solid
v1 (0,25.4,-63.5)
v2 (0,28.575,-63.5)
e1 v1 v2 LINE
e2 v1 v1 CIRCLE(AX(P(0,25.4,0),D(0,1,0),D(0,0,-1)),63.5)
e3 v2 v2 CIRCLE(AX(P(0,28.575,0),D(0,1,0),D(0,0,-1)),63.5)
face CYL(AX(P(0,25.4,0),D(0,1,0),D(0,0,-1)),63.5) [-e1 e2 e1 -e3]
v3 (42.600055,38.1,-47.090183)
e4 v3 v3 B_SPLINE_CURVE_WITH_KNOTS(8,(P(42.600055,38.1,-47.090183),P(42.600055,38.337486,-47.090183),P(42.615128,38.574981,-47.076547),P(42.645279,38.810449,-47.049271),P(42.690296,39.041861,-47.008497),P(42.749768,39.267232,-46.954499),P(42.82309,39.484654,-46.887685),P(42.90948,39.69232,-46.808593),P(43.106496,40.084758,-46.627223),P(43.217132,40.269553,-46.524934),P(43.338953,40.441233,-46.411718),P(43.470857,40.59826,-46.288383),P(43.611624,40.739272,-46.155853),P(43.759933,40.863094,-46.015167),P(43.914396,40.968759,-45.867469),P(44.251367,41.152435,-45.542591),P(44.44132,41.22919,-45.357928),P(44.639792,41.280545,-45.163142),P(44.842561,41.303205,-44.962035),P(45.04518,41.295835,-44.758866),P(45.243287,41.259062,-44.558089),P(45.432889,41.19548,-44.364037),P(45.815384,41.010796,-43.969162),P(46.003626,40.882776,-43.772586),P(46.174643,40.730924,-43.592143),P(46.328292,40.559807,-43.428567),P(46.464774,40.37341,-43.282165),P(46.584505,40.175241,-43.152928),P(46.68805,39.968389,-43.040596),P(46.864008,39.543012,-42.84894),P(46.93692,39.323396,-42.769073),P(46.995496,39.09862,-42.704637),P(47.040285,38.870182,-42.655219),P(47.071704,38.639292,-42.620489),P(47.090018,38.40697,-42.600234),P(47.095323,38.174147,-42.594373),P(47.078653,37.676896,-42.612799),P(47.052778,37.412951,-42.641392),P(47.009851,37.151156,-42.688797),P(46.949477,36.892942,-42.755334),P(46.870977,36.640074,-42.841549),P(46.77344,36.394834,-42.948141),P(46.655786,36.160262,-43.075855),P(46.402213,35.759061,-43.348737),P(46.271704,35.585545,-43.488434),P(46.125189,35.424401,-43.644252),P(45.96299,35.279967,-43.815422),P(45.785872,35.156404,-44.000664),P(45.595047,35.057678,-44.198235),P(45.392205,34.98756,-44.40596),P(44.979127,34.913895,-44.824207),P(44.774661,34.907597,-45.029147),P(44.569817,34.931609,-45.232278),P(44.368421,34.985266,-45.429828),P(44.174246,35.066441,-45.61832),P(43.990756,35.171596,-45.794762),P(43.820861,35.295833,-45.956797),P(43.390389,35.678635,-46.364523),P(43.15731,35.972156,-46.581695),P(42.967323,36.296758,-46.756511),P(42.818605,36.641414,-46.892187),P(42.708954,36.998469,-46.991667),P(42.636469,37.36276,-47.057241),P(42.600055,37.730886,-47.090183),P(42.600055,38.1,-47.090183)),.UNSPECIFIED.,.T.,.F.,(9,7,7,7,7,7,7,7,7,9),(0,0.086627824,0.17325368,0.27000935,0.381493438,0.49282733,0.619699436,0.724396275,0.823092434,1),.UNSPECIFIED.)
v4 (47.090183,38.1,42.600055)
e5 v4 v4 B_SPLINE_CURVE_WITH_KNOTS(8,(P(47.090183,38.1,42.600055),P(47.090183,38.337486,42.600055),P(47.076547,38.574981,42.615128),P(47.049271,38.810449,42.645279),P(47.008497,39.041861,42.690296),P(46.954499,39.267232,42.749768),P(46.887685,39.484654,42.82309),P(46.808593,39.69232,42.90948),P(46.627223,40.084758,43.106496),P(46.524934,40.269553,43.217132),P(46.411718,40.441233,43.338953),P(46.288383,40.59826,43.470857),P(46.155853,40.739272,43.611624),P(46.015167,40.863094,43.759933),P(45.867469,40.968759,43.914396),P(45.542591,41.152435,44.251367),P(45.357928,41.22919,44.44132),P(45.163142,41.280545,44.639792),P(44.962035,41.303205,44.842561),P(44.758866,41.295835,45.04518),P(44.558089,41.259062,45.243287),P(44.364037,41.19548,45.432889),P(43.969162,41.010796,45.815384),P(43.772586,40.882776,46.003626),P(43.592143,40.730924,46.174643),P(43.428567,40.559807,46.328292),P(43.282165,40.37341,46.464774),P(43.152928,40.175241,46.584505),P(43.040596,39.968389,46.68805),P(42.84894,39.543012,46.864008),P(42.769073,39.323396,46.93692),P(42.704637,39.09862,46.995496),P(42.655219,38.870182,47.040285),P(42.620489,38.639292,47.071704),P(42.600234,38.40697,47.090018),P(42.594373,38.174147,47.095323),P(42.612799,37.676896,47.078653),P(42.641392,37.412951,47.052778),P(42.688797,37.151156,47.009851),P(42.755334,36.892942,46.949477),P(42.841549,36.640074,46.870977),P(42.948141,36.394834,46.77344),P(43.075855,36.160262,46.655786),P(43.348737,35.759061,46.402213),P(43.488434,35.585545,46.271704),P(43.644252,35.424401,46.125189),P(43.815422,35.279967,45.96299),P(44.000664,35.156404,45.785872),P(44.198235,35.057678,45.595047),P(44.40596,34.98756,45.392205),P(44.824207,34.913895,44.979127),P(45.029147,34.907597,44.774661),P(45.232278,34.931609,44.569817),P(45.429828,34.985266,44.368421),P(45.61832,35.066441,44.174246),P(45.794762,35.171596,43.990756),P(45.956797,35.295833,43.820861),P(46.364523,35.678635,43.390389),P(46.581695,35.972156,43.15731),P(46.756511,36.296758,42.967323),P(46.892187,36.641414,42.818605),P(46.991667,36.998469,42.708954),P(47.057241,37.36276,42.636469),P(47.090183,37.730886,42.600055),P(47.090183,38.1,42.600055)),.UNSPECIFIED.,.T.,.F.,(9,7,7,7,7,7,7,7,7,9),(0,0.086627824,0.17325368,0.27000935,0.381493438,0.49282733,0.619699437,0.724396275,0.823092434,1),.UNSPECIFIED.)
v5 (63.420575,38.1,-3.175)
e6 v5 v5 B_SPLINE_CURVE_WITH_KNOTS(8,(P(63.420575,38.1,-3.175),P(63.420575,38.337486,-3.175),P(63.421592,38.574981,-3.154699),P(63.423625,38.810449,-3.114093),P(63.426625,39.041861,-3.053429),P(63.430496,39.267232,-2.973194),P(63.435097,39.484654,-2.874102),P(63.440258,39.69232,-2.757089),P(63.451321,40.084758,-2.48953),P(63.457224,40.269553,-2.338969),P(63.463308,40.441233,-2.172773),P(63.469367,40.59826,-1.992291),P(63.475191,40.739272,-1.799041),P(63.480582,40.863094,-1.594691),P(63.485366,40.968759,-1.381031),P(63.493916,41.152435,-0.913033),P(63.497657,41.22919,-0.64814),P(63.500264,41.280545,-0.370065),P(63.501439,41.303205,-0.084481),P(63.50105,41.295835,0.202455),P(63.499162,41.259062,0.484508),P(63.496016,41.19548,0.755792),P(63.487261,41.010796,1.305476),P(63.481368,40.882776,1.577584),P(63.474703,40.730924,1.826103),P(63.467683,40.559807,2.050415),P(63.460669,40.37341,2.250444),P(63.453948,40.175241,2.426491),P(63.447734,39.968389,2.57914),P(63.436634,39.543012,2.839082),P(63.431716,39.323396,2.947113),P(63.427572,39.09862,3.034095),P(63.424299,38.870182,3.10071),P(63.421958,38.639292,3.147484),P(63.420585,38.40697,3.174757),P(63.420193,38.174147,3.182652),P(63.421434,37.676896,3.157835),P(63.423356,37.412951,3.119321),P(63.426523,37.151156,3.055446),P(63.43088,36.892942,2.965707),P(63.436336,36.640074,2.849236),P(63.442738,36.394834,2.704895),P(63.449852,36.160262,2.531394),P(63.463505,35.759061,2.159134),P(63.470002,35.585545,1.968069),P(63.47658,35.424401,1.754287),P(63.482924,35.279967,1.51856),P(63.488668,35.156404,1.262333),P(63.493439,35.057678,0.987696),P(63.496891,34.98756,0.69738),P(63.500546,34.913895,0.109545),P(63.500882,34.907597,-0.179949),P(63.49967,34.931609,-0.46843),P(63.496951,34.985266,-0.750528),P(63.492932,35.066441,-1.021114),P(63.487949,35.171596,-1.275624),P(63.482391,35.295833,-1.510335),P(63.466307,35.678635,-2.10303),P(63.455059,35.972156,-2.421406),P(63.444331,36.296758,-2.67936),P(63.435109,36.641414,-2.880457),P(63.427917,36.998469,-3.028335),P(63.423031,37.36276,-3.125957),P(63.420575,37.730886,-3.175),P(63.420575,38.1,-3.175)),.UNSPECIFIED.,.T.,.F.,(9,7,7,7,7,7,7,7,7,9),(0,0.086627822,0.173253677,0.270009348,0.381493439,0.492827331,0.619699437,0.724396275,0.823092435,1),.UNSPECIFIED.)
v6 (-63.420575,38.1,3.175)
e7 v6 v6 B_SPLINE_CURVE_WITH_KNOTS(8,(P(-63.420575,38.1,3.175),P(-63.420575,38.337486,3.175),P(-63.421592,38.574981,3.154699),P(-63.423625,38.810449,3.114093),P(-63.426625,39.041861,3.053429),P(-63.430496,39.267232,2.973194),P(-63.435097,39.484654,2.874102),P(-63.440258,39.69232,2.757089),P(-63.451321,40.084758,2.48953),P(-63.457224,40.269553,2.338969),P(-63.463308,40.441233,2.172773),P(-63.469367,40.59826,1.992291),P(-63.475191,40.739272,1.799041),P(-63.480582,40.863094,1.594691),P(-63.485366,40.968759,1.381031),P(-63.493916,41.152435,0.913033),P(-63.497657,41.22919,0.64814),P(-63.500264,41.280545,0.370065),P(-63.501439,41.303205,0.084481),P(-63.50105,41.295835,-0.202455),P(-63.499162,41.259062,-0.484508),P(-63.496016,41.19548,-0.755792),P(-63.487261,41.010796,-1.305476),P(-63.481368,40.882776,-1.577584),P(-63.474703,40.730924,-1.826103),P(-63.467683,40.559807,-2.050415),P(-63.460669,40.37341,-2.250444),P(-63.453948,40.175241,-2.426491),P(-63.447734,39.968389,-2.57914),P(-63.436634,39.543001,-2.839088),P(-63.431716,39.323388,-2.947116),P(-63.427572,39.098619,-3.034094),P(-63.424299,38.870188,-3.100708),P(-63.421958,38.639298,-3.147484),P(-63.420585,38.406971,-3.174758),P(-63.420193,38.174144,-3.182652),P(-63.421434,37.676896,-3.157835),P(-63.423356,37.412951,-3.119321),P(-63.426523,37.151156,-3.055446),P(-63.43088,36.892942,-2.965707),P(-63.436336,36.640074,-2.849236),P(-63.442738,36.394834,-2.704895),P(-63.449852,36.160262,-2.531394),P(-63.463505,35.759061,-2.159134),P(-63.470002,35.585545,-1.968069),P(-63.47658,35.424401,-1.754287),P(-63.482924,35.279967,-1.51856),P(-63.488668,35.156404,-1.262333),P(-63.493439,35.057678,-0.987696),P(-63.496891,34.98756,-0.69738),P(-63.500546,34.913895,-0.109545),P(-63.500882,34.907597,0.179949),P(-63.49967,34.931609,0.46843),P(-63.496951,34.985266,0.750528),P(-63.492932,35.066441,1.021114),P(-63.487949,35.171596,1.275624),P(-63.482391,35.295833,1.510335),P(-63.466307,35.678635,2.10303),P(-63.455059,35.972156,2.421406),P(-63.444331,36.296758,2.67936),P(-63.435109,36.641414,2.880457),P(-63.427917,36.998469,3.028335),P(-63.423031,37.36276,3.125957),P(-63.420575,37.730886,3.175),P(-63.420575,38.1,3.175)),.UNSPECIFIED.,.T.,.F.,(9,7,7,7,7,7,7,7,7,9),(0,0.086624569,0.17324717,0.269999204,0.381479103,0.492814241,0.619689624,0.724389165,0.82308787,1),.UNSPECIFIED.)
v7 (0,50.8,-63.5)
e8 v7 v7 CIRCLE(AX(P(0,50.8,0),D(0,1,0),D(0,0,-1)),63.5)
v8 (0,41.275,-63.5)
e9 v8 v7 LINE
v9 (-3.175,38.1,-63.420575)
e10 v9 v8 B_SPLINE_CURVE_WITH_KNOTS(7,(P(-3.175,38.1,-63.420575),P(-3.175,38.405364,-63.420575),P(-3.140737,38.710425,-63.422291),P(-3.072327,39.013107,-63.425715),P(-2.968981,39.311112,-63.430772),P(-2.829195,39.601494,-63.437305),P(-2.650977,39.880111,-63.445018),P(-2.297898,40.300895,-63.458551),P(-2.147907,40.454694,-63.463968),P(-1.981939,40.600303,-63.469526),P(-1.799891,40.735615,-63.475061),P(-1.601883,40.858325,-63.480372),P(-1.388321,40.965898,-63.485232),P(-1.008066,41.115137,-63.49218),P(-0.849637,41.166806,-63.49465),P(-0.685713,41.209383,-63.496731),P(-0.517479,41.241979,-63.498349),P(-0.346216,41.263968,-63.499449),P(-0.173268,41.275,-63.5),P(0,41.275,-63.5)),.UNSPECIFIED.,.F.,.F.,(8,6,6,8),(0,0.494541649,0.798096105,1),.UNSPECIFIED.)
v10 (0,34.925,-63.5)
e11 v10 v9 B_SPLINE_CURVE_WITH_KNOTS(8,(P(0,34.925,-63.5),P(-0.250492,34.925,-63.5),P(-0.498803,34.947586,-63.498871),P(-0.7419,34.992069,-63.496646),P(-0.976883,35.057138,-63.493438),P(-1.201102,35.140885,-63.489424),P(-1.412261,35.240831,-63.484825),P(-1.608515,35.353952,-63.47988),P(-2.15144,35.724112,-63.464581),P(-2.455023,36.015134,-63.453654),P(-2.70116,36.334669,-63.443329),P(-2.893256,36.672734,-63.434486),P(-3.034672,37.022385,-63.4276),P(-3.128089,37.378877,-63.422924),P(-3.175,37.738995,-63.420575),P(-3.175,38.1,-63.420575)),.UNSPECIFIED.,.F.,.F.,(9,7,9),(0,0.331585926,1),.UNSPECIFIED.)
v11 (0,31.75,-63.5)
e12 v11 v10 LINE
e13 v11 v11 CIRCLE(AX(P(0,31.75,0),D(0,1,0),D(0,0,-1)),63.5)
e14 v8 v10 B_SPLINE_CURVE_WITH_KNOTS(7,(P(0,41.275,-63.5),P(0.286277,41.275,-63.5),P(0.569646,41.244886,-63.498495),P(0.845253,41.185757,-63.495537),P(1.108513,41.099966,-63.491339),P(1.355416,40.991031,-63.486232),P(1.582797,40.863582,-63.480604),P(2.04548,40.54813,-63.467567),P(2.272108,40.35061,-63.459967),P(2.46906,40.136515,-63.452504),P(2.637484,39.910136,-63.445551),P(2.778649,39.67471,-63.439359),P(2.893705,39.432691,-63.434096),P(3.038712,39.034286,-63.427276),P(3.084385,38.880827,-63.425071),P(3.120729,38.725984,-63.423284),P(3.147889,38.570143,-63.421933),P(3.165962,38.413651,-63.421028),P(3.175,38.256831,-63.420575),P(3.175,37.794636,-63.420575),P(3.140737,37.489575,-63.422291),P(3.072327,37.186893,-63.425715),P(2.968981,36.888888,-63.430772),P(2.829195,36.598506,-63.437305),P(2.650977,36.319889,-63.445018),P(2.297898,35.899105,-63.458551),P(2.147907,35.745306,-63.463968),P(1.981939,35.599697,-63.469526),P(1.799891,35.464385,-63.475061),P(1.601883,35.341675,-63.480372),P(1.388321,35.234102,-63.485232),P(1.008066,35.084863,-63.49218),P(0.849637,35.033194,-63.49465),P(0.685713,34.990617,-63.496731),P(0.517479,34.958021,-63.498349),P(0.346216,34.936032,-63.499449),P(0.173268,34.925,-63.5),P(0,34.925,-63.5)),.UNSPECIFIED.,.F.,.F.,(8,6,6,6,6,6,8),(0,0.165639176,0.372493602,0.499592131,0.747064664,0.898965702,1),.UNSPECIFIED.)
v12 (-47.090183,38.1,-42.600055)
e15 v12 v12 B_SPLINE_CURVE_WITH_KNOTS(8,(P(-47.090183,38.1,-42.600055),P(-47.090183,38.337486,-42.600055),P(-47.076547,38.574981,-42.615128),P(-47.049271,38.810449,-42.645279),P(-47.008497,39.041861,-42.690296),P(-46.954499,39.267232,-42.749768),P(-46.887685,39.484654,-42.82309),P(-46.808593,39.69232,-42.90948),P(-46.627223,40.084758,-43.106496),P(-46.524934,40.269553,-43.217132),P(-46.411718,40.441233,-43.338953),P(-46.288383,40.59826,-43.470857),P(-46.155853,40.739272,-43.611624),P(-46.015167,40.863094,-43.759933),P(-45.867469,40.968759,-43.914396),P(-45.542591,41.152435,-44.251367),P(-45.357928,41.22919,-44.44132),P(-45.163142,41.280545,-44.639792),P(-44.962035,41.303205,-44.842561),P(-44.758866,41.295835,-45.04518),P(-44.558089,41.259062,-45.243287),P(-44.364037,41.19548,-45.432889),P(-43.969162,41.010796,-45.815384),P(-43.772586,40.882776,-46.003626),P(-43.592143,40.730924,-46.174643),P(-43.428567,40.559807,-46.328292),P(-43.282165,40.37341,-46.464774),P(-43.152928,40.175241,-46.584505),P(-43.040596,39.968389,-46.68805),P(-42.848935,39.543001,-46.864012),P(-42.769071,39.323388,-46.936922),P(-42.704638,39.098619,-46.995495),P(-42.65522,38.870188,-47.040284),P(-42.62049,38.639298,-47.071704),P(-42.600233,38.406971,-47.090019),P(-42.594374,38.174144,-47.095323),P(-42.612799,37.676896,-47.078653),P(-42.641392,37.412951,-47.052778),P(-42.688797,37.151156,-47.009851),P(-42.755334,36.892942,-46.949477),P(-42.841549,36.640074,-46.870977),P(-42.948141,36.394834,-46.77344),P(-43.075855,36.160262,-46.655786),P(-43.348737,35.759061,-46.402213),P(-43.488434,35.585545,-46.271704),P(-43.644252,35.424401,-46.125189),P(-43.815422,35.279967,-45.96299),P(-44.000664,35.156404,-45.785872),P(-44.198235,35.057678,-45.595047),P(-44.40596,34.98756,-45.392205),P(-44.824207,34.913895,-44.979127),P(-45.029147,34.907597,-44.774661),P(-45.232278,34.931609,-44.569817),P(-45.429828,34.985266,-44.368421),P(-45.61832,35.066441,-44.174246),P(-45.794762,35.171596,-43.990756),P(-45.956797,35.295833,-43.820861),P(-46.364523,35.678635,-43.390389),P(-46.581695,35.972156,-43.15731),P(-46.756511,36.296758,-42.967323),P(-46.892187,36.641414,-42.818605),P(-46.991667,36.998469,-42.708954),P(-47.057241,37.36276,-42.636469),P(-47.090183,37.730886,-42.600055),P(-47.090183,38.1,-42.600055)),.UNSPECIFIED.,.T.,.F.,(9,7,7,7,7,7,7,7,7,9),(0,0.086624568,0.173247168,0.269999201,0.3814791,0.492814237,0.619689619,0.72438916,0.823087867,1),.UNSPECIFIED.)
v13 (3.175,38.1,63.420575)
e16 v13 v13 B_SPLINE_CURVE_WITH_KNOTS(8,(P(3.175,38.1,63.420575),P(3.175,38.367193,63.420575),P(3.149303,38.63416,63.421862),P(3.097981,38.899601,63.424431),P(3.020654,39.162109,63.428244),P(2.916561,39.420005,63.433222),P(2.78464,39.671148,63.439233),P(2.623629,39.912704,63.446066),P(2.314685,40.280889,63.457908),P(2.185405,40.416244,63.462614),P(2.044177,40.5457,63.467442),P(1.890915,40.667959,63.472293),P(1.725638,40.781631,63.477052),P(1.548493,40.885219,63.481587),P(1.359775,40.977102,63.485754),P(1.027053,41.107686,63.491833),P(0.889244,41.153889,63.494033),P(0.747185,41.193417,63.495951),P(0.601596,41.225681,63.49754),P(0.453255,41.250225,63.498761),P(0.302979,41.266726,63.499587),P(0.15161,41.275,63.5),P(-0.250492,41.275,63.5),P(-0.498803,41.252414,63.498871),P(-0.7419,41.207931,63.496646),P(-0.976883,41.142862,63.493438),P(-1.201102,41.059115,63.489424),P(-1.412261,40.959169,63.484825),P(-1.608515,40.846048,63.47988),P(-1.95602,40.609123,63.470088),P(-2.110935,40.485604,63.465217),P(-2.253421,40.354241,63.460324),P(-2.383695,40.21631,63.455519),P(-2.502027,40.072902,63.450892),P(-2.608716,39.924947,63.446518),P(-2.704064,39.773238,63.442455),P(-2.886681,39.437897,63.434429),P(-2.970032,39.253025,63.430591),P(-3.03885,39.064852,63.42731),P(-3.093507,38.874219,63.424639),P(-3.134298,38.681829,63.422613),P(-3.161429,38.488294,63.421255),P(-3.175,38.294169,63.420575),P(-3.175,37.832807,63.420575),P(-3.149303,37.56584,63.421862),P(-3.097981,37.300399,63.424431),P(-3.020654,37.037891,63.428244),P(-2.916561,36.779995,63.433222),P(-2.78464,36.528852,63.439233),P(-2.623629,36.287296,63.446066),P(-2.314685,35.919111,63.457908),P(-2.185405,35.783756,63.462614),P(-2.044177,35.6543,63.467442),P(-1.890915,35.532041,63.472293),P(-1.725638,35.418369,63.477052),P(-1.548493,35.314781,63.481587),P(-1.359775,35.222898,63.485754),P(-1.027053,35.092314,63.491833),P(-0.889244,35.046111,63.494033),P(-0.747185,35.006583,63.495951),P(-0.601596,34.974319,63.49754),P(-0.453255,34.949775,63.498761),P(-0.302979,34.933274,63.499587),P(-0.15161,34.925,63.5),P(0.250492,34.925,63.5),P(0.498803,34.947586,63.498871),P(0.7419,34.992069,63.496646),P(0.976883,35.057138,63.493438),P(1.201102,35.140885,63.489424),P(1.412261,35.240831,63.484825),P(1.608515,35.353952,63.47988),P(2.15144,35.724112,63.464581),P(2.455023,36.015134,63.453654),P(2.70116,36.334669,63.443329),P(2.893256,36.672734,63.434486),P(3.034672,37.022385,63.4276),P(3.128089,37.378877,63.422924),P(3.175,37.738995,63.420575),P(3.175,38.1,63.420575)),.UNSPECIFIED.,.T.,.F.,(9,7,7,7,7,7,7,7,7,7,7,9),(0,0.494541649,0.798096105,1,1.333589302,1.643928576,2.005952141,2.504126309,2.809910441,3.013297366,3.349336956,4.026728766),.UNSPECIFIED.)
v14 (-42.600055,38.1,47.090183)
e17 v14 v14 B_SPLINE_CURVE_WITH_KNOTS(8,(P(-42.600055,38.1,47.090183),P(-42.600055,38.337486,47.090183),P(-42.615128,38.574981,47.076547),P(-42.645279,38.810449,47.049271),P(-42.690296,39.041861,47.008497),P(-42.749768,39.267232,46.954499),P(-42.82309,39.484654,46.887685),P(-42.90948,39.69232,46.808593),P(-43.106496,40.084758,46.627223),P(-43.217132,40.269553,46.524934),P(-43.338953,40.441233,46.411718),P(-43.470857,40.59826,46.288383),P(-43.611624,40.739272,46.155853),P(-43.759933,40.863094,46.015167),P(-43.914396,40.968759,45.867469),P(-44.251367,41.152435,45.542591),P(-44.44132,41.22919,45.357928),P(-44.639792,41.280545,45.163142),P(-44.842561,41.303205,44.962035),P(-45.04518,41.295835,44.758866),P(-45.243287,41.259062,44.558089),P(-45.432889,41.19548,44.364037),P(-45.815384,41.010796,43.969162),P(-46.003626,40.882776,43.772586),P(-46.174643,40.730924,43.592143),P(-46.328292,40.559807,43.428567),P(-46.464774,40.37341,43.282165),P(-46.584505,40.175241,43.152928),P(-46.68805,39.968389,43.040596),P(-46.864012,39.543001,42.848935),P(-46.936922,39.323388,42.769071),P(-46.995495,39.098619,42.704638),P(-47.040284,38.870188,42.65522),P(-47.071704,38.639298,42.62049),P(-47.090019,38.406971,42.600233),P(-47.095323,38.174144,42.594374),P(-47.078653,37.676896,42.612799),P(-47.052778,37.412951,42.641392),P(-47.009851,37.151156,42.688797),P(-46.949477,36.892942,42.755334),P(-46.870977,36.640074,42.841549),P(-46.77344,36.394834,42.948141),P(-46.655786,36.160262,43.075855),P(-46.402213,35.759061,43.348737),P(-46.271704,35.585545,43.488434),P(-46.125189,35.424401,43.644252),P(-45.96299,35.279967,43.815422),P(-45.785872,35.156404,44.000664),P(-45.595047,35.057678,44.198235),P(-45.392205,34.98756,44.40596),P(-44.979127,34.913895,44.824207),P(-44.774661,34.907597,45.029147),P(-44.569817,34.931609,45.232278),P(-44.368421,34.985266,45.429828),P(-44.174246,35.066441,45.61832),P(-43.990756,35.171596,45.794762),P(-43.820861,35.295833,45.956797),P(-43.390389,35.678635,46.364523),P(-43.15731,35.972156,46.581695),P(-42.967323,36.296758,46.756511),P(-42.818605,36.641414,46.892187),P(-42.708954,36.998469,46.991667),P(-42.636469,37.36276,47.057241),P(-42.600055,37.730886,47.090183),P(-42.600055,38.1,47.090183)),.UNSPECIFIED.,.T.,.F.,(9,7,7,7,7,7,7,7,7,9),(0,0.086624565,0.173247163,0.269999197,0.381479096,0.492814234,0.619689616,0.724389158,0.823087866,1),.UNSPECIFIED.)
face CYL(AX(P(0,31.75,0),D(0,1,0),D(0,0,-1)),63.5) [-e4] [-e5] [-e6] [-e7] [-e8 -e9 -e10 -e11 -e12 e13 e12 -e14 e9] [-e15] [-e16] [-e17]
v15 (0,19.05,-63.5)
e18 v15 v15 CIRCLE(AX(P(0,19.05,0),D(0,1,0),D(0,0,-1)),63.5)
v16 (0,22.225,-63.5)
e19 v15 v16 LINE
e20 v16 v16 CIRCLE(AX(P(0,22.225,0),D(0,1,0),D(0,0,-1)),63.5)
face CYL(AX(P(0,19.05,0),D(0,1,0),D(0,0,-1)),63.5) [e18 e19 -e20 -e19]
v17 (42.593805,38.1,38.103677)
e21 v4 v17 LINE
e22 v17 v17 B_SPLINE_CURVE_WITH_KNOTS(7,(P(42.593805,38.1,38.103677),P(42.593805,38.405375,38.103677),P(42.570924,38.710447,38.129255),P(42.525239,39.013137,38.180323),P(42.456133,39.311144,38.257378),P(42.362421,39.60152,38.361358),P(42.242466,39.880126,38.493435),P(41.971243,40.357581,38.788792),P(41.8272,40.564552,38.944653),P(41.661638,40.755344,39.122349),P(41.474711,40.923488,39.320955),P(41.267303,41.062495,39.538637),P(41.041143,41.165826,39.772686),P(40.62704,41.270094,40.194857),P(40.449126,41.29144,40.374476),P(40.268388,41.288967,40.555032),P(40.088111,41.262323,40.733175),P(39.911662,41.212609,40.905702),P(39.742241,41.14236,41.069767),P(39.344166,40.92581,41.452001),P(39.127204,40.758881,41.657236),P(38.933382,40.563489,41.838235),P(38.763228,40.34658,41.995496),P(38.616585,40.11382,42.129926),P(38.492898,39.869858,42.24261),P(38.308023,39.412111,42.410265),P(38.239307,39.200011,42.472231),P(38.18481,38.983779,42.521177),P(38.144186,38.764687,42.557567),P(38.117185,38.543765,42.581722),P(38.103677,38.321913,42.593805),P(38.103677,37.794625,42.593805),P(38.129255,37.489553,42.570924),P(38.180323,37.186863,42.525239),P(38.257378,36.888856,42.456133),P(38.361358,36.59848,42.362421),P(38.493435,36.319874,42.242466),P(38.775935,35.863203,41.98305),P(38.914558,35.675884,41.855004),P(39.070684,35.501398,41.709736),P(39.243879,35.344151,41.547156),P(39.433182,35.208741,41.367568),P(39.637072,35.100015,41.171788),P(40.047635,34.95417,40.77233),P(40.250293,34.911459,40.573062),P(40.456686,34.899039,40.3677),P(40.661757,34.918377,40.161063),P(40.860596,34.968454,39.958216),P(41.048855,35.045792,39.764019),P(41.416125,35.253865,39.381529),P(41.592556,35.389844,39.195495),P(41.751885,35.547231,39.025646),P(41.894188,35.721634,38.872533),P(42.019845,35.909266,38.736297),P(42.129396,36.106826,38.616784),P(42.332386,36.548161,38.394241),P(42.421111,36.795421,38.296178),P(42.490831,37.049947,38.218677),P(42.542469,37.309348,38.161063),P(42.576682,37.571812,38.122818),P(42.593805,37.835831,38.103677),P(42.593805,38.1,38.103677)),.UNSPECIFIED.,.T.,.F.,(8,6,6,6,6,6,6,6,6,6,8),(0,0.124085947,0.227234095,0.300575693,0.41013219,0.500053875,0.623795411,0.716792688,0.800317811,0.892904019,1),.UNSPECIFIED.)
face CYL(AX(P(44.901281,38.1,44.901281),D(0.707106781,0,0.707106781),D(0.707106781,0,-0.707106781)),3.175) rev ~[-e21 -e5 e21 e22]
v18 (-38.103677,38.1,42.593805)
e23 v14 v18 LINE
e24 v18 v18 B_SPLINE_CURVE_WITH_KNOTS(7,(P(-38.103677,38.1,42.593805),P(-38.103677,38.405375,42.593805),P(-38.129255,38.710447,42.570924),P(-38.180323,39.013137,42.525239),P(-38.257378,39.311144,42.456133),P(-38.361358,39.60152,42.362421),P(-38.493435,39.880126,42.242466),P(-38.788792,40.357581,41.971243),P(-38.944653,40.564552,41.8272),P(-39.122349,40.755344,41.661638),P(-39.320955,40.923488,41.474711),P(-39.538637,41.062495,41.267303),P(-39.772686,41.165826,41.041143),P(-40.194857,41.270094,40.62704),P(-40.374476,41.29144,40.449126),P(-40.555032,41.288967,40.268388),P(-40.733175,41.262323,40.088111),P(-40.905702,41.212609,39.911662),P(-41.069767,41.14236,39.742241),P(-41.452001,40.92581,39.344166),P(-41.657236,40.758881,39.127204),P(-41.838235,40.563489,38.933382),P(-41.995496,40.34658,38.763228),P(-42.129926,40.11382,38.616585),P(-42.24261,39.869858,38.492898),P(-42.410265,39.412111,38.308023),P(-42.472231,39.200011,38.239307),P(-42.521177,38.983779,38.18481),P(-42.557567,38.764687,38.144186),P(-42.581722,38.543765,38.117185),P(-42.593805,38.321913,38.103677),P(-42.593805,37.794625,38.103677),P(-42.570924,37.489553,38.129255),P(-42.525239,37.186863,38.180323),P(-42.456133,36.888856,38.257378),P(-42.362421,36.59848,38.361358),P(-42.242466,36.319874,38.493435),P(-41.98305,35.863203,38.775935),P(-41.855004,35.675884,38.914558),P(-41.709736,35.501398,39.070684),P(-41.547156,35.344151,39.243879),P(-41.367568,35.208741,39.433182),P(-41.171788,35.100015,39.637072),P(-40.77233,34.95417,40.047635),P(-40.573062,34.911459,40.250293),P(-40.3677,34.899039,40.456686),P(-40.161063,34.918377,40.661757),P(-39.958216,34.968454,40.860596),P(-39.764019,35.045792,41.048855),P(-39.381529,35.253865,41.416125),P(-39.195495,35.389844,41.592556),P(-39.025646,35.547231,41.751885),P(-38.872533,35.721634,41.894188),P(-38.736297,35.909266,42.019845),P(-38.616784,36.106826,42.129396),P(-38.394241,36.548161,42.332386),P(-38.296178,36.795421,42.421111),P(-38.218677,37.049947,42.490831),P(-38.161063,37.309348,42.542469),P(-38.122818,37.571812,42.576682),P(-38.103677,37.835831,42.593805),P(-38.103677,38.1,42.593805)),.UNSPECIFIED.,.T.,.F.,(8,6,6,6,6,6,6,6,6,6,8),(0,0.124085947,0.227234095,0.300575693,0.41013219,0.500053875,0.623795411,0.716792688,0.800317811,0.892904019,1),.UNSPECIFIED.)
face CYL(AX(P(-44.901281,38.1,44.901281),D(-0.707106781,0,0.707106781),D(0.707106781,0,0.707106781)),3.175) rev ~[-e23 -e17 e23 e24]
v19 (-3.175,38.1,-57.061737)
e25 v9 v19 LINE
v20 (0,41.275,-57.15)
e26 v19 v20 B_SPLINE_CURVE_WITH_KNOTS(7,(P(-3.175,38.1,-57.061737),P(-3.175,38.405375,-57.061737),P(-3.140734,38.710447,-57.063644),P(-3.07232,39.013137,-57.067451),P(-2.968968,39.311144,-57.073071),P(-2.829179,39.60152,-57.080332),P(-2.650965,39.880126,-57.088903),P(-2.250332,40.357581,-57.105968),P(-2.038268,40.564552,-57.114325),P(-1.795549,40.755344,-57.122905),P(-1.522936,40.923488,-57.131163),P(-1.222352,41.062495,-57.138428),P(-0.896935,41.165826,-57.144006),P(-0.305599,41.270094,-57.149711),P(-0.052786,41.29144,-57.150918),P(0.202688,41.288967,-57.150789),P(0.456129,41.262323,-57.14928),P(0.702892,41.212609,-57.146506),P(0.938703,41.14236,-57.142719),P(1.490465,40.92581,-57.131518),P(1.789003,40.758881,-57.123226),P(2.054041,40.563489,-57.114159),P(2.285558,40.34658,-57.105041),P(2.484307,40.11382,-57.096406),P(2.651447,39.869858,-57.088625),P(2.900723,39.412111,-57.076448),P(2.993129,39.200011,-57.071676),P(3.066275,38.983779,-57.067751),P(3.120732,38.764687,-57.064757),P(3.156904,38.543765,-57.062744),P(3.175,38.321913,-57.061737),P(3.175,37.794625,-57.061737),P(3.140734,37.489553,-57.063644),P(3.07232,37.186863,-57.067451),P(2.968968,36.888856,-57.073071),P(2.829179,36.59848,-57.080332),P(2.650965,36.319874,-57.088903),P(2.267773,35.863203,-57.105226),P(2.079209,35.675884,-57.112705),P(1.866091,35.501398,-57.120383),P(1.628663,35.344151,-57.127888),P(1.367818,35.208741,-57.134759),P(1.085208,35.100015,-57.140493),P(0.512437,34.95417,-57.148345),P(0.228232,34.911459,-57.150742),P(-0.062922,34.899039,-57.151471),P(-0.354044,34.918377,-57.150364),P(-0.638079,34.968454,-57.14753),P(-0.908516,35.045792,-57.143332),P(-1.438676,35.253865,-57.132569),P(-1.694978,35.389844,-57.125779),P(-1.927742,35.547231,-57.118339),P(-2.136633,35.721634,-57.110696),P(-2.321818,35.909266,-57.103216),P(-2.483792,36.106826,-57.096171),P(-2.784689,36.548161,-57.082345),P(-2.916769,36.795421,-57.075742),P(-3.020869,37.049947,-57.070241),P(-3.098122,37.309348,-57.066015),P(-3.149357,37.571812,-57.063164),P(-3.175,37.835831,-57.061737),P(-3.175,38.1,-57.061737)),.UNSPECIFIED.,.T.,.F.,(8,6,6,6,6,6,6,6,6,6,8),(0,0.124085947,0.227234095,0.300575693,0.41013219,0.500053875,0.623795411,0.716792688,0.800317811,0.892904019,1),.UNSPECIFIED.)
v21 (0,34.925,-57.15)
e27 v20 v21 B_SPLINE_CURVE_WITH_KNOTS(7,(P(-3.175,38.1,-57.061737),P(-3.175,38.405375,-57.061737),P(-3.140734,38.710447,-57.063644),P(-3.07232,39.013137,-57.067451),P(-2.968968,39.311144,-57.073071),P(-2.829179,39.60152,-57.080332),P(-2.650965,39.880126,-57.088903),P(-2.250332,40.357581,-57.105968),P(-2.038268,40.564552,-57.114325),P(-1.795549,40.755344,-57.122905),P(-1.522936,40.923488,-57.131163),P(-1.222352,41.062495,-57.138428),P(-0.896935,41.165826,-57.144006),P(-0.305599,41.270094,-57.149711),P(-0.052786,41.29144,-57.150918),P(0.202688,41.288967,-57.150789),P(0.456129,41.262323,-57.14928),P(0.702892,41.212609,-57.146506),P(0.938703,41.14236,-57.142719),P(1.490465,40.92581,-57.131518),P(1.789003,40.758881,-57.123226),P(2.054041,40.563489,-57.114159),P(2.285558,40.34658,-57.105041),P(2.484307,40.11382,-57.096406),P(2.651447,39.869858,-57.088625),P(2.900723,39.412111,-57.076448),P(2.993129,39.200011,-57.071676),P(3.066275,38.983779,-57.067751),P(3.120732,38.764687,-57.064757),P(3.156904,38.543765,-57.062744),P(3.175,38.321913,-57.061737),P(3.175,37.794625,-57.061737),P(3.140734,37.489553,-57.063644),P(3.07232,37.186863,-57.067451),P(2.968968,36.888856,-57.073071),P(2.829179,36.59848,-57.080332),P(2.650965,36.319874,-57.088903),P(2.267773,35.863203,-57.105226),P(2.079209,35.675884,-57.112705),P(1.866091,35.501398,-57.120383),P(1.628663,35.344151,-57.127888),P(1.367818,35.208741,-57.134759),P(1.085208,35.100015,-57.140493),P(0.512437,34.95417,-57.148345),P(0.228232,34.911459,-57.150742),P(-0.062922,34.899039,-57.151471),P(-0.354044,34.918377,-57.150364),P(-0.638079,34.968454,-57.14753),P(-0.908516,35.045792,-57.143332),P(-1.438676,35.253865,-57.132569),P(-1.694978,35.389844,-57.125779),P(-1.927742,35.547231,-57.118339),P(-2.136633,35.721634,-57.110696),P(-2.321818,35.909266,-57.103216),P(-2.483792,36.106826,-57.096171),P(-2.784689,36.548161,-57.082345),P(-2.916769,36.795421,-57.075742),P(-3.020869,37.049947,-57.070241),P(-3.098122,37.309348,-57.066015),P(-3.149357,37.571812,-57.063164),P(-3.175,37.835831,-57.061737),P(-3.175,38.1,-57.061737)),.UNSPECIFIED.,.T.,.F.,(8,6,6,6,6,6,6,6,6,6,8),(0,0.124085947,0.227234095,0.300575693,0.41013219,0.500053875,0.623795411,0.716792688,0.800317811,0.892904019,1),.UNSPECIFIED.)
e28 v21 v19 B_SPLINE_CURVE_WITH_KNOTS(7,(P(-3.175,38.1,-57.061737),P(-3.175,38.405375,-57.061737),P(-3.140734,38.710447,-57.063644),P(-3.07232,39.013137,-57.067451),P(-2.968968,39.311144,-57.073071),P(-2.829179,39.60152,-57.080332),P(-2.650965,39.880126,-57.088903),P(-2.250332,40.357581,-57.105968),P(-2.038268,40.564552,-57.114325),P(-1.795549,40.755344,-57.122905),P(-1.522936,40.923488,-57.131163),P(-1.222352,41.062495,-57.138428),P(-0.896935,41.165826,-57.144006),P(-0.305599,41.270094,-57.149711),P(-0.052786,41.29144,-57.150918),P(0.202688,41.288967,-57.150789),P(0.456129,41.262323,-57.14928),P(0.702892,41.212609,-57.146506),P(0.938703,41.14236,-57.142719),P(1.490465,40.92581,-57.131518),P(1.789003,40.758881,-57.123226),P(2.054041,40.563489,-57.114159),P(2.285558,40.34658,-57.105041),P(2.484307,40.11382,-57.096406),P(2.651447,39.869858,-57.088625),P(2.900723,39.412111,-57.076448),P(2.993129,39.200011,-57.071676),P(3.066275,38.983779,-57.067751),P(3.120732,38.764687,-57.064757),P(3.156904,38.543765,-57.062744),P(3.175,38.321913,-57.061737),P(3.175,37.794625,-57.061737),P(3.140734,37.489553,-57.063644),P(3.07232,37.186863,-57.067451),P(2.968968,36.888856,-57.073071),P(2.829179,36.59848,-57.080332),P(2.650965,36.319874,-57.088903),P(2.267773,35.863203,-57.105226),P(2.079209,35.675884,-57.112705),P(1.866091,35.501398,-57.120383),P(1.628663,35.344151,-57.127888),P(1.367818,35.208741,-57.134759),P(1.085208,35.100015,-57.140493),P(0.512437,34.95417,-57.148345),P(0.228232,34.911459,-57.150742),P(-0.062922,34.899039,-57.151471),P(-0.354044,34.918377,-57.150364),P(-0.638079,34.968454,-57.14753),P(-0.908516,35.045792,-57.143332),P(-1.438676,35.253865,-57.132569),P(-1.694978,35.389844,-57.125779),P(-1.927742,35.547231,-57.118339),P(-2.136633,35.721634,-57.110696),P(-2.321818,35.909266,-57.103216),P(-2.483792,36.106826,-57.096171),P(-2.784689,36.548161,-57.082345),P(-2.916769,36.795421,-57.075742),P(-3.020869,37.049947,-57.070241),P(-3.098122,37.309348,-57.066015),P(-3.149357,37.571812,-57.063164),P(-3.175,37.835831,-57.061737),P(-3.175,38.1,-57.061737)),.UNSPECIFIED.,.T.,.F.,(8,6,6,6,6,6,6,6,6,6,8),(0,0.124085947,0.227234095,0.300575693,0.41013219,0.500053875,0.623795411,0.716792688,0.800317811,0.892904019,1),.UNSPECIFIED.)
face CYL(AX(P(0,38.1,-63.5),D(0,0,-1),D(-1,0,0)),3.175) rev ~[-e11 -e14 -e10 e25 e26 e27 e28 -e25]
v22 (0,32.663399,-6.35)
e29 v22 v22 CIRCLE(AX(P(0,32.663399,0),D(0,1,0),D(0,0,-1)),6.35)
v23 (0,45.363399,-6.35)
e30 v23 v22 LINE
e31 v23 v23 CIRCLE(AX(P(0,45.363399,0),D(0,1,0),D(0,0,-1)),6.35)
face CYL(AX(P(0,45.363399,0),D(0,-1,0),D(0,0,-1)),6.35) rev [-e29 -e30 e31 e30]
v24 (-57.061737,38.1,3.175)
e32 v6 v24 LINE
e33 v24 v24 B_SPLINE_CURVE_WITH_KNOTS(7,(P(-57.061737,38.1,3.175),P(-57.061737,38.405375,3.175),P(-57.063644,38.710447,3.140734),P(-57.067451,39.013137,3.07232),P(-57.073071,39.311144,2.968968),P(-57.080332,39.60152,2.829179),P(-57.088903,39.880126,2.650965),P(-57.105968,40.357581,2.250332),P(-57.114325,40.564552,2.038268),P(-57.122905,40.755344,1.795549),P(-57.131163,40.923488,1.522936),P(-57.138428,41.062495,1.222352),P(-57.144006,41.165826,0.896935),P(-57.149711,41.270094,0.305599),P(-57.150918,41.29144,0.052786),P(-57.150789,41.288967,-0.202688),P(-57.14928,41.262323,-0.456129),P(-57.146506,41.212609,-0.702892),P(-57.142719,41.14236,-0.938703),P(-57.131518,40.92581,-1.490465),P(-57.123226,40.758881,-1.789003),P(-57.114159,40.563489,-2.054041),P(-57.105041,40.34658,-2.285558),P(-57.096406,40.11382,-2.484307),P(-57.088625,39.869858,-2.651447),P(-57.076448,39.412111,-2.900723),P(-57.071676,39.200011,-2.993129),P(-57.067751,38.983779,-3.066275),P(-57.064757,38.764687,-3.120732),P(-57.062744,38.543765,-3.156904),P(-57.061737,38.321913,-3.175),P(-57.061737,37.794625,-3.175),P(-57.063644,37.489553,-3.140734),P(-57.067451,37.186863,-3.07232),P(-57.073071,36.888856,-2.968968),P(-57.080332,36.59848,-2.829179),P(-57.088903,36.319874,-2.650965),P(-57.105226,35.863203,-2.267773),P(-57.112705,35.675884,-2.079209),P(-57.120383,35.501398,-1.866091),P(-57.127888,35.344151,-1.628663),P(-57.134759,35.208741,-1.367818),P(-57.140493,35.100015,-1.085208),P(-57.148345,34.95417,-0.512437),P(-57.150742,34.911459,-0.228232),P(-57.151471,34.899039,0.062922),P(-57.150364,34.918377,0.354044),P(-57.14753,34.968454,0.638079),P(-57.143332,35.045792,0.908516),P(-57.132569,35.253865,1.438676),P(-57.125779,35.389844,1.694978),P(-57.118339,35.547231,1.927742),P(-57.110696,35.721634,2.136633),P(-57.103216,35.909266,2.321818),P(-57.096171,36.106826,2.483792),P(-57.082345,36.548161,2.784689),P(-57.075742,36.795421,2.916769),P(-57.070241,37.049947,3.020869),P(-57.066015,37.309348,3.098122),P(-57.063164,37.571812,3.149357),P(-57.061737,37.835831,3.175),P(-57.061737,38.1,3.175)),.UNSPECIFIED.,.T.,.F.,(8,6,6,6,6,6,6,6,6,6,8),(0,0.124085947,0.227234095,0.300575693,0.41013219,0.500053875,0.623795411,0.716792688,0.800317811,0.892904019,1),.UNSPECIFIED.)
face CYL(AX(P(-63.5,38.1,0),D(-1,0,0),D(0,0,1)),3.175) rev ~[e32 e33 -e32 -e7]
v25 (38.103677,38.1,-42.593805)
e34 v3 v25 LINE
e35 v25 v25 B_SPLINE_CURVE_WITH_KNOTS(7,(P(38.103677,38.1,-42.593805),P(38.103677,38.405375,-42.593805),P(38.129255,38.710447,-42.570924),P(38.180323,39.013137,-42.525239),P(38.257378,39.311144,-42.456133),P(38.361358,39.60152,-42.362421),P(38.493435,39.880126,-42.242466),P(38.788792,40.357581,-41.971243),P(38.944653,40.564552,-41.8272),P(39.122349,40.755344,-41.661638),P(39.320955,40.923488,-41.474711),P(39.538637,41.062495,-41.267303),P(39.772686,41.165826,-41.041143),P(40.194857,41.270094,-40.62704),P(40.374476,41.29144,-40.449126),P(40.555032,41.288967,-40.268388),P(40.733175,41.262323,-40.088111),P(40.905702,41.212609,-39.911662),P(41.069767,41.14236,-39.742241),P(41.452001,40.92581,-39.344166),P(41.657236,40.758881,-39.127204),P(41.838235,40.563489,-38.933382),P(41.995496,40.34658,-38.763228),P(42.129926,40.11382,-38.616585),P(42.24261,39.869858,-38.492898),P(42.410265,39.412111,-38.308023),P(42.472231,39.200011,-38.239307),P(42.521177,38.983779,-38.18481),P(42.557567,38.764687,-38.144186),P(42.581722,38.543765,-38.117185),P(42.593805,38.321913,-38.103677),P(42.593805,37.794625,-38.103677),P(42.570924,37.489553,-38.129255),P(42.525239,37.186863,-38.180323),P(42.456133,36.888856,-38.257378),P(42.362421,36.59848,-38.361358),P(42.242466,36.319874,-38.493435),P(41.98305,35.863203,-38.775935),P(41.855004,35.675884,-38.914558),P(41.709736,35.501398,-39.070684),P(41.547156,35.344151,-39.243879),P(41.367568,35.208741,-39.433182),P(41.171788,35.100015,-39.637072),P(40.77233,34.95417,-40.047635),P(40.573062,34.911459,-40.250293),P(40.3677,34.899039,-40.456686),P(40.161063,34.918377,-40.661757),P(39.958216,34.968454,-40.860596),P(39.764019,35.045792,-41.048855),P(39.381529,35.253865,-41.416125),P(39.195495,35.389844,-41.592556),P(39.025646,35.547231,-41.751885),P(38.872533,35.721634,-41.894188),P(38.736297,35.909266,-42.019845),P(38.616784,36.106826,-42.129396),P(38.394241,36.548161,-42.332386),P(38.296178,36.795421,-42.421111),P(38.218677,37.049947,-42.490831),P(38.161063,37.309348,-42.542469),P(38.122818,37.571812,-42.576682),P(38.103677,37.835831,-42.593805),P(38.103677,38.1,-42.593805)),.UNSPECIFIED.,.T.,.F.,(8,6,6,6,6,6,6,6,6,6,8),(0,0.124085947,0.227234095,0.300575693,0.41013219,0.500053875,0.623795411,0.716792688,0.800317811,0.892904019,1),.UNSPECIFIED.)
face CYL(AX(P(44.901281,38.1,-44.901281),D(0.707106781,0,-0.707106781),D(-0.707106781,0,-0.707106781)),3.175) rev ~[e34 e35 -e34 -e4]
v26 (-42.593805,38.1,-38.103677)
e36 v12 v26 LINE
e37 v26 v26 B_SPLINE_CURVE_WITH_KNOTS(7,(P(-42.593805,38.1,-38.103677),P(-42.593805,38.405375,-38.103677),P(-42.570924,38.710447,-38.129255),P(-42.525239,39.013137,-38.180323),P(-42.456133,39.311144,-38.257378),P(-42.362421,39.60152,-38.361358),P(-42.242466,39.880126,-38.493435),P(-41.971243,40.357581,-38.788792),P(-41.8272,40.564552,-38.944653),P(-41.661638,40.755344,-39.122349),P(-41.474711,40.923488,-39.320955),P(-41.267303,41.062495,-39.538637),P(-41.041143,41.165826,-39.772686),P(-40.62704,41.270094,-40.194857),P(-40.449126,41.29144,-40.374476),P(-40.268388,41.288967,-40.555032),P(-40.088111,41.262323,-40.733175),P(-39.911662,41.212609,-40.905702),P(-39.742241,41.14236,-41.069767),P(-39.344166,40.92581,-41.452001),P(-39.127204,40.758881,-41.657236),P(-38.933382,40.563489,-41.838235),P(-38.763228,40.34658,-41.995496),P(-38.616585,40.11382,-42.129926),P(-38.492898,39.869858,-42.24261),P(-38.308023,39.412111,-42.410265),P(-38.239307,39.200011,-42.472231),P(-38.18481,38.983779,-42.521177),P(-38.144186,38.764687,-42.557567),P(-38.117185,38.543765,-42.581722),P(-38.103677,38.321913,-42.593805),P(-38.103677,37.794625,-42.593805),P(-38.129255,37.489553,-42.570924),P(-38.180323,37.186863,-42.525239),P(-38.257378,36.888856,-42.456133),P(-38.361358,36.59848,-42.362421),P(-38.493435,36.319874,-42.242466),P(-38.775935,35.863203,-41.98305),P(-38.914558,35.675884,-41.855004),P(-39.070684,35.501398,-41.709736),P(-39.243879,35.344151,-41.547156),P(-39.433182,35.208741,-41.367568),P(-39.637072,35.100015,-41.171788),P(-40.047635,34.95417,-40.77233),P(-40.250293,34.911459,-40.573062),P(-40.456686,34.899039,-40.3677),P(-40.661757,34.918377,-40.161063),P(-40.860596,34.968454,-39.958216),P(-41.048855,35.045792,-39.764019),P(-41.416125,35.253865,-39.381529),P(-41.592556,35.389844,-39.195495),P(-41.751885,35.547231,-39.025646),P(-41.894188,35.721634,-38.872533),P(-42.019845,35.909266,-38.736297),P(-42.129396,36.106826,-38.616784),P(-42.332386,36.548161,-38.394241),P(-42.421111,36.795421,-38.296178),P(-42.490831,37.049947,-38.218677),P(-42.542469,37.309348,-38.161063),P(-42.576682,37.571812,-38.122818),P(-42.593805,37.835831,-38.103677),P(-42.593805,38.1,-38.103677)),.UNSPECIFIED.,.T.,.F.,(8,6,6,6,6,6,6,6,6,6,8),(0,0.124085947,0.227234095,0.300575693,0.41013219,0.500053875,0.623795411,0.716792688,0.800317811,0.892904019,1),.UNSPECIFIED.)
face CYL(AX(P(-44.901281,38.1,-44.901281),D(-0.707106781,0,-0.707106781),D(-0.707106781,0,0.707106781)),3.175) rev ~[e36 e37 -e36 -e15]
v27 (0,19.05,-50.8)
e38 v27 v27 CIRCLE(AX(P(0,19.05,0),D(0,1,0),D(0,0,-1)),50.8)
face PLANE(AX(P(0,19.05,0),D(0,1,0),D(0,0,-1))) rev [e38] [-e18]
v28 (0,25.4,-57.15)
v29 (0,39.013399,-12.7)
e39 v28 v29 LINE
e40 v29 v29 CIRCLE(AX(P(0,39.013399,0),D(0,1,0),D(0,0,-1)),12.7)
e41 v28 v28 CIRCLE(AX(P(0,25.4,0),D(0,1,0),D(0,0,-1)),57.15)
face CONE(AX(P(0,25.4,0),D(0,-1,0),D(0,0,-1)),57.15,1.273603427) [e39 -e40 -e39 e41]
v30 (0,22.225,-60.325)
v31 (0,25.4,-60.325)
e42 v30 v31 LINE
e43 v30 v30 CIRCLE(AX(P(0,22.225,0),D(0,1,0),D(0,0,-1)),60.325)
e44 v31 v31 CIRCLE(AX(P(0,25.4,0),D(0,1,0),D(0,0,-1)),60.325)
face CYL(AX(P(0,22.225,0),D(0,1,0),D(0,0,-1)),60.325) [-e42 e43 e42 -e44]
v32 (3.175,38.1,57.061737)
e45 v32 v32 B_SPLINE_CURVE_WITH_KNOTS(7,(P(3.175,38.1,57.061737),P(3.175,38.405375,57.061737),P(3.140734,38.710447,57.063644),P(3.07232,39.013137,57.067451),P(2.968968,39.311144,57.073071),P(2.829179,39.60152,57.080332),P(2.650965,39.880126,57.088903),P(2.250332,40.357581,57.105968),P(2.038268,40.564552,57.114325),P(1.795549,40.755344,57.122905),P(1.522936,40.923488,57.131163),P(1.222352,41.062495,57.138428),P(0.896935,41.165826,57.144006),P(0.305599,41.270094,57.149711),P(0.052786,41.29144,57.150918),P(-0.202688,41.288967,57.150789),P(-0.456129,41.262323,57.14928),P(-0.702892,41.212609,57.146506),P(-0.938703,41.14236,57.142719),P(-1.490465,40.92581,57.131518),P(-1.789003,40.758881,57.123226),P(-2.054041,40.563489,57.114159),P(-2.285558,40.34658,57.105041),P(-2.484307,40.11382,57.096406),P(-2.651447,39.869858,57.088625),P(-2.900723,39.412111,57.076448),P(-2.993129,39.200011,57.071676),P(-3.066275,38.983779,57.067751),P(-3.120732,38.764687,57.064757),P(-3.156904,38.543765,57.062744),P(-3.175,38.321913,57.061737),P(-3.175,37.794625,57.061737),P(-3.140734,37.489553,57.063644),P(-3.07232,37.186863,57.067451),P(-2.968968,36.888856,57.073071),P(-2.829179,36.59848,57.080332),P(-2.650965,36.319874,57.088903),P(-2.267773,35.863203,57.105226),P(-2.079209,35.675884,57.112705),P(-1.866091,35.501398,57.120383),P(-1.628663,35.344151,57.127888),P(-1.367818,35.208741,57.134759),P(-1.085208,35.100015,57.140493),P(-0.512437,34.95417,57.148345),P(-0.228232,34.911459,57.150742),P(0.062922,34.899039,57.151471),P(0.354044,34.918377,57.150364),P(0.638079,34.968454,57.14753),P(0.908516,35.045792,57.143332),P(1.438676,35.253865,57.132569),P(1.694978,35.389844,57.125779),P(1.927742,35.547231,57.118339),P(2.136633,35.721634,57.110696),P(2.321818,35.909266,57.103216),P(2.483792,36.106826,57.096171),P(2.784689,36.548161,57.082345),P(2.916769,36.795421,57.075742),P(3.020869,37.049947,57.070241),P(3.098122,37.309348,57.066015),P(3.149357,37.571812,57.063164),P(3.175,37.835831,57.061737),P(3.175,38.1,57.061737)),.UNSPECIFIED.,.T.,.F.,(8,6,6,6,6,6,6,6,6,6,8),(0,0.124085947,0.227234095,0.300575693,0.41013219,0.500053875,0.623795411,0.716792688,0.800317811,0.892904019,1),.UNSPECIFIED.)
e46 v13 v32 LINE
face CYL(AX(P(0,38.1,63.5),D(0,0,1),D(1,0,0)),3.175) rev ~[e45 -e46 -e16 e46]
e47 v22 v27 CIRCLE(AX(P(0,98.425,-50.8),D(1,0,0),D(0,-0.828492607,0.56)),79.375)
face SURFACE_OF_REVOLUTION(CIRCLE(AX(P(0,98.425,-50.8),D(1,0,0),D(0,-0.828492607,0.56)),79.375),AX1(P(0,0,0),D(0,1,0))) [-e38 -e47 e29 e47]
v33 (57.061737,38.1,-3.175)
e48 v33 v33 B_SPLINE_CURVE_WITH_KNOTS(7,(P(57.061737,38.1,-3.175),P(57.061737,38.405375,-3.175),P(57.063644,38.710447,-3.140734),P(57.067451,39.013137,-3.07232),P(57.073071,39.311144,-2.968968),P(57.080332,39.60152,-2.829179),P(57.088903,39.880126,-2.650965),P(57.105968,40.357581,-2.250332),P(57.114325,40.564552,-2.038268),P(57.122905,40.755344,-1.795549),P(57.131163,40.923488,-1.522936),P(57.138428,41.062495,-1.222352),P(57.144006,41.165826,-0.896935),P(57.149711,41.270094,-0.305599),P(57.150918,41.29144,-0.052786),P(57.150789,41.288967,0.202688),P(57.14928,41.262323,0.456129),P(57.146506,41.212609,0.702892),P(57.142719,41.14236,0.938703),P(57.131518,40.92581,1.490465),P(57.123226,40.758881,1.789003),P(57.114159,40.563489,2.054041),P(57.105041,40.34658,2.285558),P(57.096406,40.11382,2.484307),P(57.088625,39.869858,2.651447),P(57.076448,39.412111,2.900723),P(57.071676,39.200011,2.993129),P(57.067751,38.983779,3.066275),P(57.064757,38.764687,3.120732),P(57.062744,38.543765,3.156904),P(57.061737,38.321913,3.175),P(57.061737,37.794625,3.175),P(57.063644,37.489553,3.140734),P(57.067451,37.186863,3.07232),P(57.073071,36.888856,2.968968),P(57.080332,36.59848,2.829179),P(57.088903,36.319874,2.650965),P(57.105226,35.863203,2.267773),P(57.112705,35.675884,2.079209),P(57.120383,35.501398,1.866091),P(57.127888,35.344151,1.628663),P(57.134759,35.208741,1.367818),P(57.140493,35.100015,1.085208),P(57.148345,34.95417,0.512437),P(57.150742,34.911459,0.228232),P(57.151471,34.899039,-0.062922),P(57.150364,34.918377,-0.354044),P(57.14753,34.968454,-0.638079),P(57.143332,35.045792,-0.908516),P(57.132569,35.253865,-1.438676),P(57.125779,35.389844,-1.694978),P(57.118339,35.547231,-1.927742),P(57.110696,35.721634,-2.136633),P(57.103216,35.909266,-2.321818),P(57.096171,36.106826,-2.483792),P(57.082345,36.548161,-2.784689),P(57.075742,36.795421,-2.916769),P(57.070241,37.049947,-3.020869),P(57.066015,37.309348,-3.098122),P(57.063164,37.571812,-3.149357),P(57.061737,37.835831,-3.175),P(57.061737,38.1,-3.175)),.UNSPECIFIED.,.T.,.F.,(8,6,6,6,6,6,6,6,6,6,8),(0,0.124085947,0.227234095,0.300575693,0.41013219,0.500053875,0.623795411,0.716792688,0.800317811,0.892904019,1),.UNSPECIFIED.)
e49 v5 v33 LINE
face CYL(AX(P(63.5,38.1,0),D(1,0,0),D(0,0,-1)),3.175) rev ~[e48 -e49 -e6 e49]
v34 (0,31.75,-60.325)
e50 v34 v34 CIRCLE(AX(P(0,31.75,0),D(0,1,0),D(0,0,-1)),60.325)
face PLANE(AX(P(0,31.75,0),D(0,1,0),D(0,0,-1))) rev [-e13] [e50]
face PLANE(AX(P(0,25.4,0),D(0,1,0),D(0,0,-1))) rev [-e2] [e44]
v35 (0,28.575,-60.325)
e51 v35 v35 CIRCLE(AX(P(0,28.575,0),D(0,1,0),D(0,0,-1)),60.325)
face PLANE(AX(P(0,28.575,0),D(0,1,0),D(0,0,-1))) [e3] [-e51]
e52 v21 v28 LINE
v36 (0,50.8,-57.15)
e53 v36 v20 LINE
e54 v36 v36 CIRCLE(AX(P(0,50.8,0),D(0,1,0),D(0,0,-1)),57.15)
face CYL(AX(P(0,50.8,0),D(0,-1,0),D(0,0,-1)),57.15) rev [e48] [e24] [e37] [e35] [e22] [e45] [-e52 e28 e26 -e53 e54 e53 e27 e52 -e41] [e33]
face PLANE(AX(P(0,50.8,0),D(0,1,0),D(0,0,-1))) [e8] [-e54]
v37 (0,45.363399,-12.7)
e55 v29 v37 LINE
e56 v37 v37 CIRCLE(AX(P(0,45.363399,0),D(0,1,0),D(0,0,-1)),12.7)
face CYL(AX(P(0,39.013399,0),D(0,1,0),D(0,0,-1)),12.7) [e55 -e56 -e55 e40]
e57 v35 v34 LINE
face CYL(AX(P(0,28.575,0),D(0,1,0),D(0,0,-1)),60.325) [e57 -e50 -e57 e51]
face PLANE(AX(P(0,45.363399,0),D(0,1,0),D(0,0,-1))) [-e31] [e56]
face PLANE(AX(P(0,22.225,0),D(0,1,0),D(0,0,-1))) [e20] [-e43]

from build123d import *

# Parameters (mm, degrees)
CUT_EXTRUDE2_REACH      = 152.804
CUT_EXTRUDE2_END_RADIUS = 57.15
SKETCH3_R               = 3.175
CIRPATTERN2_COUNT       = 8


with BuildPart() as part:
    # Sketch1 → Revolve2 (revolve)
    with BuildSketch(Plane.XY, mode=Mode.PRIVATE) as revolve2_sk:
        with BuildLine():
            Line((6.35, 45.363399312), (6.35, 32.663399312))
            ThreePointArc((6.35, 32.663399312), (27.556037661, 22.529619114), (50.8, 19.05))
            Line((50.8, 19.05), (63.5, 19.05))
            Line((63.5, 19.05), (63.5, 22.225))
            Line((63.5, 22.225), (60.325, 22.225))
            Line((60.325, 22.225), (60.325, 25.4))
            Line((60.325, 25.4), (63.5, 25.4))
            Line((63.5, 25.4), (63.5, 28.575))
            Line((63.5, 28.575), (60.325, 28.575))
            Line((60.325, 28.575), (60.325, 31.75))
            Line((60.325, 31.75), (63.5, 31.75))
            Line((63.5, 31.75), (63.5, 50.8))
            Line((63.5, 50.8), (57.15, 50.8))
            Line((57.15, 50.8), (57.15, 25.4))
            Line((57.15, 25.4), (12.7, 39.013399312))
            Line((12.7, 39.013399312), (12.7, 45.363399312))
            Line((12.7, 45.363399312), (6.35, 45.363399312))
        make_face()
    revolve(revolve2_sk.sketch.rotate(Axis((0, 0, 0), (0, 1, 0)), 90), axis=Axis((0, 0, 0), (0, 1, 0)))

    # Cut-Extrude2: up to this cylinder (the profile starts outside it)
    cut_extrude2_end = Plane(origin=(0, 38.1, 0), z_dir=(0, -1, 0)) * Cylinder(CUT_EXTRUDE2_END_RADIUS, 420.908, mode=Mode.PRIVATE)
    # Sketch3 → Cut-Extrude2 (cut, up to the surface)
    with BuildSketch(Plane.XY.offset(63.5), mode=Mode.PRIVATE) as cut_extrude2_sk1:
        with Locations((0, 38.1)):
            Circle(SKETCH3_R)
    cut_extrude2_tool1 = extrude(cut_extrude2_sk1.sketch, amount=-CUT_EXTRUDE2_REACH, mode=Mode.PRIVATE) - cut_extrude2_end
    cut_extrude2 = cut_extrude2_tool1.solids().sort_by_distance((0, 38.1, 63.5))[0]
    add(cut_extrude2, mode=Mode.SUBTRACT)

    # CirPattern2: Cut-Extrude2 ×8 about axis
    cirpattern2_axis = Axis((0, 0, 0), (0, -1, 0))
    for i in range(1, CIRPATTERN2_COUNT):
        add(cut_extrude2.rotate(cirpattern2_axis, i * 360 / CIRPATTERN2_COUNT), mode=Mode.SUBTRACT)


solid = part.part
